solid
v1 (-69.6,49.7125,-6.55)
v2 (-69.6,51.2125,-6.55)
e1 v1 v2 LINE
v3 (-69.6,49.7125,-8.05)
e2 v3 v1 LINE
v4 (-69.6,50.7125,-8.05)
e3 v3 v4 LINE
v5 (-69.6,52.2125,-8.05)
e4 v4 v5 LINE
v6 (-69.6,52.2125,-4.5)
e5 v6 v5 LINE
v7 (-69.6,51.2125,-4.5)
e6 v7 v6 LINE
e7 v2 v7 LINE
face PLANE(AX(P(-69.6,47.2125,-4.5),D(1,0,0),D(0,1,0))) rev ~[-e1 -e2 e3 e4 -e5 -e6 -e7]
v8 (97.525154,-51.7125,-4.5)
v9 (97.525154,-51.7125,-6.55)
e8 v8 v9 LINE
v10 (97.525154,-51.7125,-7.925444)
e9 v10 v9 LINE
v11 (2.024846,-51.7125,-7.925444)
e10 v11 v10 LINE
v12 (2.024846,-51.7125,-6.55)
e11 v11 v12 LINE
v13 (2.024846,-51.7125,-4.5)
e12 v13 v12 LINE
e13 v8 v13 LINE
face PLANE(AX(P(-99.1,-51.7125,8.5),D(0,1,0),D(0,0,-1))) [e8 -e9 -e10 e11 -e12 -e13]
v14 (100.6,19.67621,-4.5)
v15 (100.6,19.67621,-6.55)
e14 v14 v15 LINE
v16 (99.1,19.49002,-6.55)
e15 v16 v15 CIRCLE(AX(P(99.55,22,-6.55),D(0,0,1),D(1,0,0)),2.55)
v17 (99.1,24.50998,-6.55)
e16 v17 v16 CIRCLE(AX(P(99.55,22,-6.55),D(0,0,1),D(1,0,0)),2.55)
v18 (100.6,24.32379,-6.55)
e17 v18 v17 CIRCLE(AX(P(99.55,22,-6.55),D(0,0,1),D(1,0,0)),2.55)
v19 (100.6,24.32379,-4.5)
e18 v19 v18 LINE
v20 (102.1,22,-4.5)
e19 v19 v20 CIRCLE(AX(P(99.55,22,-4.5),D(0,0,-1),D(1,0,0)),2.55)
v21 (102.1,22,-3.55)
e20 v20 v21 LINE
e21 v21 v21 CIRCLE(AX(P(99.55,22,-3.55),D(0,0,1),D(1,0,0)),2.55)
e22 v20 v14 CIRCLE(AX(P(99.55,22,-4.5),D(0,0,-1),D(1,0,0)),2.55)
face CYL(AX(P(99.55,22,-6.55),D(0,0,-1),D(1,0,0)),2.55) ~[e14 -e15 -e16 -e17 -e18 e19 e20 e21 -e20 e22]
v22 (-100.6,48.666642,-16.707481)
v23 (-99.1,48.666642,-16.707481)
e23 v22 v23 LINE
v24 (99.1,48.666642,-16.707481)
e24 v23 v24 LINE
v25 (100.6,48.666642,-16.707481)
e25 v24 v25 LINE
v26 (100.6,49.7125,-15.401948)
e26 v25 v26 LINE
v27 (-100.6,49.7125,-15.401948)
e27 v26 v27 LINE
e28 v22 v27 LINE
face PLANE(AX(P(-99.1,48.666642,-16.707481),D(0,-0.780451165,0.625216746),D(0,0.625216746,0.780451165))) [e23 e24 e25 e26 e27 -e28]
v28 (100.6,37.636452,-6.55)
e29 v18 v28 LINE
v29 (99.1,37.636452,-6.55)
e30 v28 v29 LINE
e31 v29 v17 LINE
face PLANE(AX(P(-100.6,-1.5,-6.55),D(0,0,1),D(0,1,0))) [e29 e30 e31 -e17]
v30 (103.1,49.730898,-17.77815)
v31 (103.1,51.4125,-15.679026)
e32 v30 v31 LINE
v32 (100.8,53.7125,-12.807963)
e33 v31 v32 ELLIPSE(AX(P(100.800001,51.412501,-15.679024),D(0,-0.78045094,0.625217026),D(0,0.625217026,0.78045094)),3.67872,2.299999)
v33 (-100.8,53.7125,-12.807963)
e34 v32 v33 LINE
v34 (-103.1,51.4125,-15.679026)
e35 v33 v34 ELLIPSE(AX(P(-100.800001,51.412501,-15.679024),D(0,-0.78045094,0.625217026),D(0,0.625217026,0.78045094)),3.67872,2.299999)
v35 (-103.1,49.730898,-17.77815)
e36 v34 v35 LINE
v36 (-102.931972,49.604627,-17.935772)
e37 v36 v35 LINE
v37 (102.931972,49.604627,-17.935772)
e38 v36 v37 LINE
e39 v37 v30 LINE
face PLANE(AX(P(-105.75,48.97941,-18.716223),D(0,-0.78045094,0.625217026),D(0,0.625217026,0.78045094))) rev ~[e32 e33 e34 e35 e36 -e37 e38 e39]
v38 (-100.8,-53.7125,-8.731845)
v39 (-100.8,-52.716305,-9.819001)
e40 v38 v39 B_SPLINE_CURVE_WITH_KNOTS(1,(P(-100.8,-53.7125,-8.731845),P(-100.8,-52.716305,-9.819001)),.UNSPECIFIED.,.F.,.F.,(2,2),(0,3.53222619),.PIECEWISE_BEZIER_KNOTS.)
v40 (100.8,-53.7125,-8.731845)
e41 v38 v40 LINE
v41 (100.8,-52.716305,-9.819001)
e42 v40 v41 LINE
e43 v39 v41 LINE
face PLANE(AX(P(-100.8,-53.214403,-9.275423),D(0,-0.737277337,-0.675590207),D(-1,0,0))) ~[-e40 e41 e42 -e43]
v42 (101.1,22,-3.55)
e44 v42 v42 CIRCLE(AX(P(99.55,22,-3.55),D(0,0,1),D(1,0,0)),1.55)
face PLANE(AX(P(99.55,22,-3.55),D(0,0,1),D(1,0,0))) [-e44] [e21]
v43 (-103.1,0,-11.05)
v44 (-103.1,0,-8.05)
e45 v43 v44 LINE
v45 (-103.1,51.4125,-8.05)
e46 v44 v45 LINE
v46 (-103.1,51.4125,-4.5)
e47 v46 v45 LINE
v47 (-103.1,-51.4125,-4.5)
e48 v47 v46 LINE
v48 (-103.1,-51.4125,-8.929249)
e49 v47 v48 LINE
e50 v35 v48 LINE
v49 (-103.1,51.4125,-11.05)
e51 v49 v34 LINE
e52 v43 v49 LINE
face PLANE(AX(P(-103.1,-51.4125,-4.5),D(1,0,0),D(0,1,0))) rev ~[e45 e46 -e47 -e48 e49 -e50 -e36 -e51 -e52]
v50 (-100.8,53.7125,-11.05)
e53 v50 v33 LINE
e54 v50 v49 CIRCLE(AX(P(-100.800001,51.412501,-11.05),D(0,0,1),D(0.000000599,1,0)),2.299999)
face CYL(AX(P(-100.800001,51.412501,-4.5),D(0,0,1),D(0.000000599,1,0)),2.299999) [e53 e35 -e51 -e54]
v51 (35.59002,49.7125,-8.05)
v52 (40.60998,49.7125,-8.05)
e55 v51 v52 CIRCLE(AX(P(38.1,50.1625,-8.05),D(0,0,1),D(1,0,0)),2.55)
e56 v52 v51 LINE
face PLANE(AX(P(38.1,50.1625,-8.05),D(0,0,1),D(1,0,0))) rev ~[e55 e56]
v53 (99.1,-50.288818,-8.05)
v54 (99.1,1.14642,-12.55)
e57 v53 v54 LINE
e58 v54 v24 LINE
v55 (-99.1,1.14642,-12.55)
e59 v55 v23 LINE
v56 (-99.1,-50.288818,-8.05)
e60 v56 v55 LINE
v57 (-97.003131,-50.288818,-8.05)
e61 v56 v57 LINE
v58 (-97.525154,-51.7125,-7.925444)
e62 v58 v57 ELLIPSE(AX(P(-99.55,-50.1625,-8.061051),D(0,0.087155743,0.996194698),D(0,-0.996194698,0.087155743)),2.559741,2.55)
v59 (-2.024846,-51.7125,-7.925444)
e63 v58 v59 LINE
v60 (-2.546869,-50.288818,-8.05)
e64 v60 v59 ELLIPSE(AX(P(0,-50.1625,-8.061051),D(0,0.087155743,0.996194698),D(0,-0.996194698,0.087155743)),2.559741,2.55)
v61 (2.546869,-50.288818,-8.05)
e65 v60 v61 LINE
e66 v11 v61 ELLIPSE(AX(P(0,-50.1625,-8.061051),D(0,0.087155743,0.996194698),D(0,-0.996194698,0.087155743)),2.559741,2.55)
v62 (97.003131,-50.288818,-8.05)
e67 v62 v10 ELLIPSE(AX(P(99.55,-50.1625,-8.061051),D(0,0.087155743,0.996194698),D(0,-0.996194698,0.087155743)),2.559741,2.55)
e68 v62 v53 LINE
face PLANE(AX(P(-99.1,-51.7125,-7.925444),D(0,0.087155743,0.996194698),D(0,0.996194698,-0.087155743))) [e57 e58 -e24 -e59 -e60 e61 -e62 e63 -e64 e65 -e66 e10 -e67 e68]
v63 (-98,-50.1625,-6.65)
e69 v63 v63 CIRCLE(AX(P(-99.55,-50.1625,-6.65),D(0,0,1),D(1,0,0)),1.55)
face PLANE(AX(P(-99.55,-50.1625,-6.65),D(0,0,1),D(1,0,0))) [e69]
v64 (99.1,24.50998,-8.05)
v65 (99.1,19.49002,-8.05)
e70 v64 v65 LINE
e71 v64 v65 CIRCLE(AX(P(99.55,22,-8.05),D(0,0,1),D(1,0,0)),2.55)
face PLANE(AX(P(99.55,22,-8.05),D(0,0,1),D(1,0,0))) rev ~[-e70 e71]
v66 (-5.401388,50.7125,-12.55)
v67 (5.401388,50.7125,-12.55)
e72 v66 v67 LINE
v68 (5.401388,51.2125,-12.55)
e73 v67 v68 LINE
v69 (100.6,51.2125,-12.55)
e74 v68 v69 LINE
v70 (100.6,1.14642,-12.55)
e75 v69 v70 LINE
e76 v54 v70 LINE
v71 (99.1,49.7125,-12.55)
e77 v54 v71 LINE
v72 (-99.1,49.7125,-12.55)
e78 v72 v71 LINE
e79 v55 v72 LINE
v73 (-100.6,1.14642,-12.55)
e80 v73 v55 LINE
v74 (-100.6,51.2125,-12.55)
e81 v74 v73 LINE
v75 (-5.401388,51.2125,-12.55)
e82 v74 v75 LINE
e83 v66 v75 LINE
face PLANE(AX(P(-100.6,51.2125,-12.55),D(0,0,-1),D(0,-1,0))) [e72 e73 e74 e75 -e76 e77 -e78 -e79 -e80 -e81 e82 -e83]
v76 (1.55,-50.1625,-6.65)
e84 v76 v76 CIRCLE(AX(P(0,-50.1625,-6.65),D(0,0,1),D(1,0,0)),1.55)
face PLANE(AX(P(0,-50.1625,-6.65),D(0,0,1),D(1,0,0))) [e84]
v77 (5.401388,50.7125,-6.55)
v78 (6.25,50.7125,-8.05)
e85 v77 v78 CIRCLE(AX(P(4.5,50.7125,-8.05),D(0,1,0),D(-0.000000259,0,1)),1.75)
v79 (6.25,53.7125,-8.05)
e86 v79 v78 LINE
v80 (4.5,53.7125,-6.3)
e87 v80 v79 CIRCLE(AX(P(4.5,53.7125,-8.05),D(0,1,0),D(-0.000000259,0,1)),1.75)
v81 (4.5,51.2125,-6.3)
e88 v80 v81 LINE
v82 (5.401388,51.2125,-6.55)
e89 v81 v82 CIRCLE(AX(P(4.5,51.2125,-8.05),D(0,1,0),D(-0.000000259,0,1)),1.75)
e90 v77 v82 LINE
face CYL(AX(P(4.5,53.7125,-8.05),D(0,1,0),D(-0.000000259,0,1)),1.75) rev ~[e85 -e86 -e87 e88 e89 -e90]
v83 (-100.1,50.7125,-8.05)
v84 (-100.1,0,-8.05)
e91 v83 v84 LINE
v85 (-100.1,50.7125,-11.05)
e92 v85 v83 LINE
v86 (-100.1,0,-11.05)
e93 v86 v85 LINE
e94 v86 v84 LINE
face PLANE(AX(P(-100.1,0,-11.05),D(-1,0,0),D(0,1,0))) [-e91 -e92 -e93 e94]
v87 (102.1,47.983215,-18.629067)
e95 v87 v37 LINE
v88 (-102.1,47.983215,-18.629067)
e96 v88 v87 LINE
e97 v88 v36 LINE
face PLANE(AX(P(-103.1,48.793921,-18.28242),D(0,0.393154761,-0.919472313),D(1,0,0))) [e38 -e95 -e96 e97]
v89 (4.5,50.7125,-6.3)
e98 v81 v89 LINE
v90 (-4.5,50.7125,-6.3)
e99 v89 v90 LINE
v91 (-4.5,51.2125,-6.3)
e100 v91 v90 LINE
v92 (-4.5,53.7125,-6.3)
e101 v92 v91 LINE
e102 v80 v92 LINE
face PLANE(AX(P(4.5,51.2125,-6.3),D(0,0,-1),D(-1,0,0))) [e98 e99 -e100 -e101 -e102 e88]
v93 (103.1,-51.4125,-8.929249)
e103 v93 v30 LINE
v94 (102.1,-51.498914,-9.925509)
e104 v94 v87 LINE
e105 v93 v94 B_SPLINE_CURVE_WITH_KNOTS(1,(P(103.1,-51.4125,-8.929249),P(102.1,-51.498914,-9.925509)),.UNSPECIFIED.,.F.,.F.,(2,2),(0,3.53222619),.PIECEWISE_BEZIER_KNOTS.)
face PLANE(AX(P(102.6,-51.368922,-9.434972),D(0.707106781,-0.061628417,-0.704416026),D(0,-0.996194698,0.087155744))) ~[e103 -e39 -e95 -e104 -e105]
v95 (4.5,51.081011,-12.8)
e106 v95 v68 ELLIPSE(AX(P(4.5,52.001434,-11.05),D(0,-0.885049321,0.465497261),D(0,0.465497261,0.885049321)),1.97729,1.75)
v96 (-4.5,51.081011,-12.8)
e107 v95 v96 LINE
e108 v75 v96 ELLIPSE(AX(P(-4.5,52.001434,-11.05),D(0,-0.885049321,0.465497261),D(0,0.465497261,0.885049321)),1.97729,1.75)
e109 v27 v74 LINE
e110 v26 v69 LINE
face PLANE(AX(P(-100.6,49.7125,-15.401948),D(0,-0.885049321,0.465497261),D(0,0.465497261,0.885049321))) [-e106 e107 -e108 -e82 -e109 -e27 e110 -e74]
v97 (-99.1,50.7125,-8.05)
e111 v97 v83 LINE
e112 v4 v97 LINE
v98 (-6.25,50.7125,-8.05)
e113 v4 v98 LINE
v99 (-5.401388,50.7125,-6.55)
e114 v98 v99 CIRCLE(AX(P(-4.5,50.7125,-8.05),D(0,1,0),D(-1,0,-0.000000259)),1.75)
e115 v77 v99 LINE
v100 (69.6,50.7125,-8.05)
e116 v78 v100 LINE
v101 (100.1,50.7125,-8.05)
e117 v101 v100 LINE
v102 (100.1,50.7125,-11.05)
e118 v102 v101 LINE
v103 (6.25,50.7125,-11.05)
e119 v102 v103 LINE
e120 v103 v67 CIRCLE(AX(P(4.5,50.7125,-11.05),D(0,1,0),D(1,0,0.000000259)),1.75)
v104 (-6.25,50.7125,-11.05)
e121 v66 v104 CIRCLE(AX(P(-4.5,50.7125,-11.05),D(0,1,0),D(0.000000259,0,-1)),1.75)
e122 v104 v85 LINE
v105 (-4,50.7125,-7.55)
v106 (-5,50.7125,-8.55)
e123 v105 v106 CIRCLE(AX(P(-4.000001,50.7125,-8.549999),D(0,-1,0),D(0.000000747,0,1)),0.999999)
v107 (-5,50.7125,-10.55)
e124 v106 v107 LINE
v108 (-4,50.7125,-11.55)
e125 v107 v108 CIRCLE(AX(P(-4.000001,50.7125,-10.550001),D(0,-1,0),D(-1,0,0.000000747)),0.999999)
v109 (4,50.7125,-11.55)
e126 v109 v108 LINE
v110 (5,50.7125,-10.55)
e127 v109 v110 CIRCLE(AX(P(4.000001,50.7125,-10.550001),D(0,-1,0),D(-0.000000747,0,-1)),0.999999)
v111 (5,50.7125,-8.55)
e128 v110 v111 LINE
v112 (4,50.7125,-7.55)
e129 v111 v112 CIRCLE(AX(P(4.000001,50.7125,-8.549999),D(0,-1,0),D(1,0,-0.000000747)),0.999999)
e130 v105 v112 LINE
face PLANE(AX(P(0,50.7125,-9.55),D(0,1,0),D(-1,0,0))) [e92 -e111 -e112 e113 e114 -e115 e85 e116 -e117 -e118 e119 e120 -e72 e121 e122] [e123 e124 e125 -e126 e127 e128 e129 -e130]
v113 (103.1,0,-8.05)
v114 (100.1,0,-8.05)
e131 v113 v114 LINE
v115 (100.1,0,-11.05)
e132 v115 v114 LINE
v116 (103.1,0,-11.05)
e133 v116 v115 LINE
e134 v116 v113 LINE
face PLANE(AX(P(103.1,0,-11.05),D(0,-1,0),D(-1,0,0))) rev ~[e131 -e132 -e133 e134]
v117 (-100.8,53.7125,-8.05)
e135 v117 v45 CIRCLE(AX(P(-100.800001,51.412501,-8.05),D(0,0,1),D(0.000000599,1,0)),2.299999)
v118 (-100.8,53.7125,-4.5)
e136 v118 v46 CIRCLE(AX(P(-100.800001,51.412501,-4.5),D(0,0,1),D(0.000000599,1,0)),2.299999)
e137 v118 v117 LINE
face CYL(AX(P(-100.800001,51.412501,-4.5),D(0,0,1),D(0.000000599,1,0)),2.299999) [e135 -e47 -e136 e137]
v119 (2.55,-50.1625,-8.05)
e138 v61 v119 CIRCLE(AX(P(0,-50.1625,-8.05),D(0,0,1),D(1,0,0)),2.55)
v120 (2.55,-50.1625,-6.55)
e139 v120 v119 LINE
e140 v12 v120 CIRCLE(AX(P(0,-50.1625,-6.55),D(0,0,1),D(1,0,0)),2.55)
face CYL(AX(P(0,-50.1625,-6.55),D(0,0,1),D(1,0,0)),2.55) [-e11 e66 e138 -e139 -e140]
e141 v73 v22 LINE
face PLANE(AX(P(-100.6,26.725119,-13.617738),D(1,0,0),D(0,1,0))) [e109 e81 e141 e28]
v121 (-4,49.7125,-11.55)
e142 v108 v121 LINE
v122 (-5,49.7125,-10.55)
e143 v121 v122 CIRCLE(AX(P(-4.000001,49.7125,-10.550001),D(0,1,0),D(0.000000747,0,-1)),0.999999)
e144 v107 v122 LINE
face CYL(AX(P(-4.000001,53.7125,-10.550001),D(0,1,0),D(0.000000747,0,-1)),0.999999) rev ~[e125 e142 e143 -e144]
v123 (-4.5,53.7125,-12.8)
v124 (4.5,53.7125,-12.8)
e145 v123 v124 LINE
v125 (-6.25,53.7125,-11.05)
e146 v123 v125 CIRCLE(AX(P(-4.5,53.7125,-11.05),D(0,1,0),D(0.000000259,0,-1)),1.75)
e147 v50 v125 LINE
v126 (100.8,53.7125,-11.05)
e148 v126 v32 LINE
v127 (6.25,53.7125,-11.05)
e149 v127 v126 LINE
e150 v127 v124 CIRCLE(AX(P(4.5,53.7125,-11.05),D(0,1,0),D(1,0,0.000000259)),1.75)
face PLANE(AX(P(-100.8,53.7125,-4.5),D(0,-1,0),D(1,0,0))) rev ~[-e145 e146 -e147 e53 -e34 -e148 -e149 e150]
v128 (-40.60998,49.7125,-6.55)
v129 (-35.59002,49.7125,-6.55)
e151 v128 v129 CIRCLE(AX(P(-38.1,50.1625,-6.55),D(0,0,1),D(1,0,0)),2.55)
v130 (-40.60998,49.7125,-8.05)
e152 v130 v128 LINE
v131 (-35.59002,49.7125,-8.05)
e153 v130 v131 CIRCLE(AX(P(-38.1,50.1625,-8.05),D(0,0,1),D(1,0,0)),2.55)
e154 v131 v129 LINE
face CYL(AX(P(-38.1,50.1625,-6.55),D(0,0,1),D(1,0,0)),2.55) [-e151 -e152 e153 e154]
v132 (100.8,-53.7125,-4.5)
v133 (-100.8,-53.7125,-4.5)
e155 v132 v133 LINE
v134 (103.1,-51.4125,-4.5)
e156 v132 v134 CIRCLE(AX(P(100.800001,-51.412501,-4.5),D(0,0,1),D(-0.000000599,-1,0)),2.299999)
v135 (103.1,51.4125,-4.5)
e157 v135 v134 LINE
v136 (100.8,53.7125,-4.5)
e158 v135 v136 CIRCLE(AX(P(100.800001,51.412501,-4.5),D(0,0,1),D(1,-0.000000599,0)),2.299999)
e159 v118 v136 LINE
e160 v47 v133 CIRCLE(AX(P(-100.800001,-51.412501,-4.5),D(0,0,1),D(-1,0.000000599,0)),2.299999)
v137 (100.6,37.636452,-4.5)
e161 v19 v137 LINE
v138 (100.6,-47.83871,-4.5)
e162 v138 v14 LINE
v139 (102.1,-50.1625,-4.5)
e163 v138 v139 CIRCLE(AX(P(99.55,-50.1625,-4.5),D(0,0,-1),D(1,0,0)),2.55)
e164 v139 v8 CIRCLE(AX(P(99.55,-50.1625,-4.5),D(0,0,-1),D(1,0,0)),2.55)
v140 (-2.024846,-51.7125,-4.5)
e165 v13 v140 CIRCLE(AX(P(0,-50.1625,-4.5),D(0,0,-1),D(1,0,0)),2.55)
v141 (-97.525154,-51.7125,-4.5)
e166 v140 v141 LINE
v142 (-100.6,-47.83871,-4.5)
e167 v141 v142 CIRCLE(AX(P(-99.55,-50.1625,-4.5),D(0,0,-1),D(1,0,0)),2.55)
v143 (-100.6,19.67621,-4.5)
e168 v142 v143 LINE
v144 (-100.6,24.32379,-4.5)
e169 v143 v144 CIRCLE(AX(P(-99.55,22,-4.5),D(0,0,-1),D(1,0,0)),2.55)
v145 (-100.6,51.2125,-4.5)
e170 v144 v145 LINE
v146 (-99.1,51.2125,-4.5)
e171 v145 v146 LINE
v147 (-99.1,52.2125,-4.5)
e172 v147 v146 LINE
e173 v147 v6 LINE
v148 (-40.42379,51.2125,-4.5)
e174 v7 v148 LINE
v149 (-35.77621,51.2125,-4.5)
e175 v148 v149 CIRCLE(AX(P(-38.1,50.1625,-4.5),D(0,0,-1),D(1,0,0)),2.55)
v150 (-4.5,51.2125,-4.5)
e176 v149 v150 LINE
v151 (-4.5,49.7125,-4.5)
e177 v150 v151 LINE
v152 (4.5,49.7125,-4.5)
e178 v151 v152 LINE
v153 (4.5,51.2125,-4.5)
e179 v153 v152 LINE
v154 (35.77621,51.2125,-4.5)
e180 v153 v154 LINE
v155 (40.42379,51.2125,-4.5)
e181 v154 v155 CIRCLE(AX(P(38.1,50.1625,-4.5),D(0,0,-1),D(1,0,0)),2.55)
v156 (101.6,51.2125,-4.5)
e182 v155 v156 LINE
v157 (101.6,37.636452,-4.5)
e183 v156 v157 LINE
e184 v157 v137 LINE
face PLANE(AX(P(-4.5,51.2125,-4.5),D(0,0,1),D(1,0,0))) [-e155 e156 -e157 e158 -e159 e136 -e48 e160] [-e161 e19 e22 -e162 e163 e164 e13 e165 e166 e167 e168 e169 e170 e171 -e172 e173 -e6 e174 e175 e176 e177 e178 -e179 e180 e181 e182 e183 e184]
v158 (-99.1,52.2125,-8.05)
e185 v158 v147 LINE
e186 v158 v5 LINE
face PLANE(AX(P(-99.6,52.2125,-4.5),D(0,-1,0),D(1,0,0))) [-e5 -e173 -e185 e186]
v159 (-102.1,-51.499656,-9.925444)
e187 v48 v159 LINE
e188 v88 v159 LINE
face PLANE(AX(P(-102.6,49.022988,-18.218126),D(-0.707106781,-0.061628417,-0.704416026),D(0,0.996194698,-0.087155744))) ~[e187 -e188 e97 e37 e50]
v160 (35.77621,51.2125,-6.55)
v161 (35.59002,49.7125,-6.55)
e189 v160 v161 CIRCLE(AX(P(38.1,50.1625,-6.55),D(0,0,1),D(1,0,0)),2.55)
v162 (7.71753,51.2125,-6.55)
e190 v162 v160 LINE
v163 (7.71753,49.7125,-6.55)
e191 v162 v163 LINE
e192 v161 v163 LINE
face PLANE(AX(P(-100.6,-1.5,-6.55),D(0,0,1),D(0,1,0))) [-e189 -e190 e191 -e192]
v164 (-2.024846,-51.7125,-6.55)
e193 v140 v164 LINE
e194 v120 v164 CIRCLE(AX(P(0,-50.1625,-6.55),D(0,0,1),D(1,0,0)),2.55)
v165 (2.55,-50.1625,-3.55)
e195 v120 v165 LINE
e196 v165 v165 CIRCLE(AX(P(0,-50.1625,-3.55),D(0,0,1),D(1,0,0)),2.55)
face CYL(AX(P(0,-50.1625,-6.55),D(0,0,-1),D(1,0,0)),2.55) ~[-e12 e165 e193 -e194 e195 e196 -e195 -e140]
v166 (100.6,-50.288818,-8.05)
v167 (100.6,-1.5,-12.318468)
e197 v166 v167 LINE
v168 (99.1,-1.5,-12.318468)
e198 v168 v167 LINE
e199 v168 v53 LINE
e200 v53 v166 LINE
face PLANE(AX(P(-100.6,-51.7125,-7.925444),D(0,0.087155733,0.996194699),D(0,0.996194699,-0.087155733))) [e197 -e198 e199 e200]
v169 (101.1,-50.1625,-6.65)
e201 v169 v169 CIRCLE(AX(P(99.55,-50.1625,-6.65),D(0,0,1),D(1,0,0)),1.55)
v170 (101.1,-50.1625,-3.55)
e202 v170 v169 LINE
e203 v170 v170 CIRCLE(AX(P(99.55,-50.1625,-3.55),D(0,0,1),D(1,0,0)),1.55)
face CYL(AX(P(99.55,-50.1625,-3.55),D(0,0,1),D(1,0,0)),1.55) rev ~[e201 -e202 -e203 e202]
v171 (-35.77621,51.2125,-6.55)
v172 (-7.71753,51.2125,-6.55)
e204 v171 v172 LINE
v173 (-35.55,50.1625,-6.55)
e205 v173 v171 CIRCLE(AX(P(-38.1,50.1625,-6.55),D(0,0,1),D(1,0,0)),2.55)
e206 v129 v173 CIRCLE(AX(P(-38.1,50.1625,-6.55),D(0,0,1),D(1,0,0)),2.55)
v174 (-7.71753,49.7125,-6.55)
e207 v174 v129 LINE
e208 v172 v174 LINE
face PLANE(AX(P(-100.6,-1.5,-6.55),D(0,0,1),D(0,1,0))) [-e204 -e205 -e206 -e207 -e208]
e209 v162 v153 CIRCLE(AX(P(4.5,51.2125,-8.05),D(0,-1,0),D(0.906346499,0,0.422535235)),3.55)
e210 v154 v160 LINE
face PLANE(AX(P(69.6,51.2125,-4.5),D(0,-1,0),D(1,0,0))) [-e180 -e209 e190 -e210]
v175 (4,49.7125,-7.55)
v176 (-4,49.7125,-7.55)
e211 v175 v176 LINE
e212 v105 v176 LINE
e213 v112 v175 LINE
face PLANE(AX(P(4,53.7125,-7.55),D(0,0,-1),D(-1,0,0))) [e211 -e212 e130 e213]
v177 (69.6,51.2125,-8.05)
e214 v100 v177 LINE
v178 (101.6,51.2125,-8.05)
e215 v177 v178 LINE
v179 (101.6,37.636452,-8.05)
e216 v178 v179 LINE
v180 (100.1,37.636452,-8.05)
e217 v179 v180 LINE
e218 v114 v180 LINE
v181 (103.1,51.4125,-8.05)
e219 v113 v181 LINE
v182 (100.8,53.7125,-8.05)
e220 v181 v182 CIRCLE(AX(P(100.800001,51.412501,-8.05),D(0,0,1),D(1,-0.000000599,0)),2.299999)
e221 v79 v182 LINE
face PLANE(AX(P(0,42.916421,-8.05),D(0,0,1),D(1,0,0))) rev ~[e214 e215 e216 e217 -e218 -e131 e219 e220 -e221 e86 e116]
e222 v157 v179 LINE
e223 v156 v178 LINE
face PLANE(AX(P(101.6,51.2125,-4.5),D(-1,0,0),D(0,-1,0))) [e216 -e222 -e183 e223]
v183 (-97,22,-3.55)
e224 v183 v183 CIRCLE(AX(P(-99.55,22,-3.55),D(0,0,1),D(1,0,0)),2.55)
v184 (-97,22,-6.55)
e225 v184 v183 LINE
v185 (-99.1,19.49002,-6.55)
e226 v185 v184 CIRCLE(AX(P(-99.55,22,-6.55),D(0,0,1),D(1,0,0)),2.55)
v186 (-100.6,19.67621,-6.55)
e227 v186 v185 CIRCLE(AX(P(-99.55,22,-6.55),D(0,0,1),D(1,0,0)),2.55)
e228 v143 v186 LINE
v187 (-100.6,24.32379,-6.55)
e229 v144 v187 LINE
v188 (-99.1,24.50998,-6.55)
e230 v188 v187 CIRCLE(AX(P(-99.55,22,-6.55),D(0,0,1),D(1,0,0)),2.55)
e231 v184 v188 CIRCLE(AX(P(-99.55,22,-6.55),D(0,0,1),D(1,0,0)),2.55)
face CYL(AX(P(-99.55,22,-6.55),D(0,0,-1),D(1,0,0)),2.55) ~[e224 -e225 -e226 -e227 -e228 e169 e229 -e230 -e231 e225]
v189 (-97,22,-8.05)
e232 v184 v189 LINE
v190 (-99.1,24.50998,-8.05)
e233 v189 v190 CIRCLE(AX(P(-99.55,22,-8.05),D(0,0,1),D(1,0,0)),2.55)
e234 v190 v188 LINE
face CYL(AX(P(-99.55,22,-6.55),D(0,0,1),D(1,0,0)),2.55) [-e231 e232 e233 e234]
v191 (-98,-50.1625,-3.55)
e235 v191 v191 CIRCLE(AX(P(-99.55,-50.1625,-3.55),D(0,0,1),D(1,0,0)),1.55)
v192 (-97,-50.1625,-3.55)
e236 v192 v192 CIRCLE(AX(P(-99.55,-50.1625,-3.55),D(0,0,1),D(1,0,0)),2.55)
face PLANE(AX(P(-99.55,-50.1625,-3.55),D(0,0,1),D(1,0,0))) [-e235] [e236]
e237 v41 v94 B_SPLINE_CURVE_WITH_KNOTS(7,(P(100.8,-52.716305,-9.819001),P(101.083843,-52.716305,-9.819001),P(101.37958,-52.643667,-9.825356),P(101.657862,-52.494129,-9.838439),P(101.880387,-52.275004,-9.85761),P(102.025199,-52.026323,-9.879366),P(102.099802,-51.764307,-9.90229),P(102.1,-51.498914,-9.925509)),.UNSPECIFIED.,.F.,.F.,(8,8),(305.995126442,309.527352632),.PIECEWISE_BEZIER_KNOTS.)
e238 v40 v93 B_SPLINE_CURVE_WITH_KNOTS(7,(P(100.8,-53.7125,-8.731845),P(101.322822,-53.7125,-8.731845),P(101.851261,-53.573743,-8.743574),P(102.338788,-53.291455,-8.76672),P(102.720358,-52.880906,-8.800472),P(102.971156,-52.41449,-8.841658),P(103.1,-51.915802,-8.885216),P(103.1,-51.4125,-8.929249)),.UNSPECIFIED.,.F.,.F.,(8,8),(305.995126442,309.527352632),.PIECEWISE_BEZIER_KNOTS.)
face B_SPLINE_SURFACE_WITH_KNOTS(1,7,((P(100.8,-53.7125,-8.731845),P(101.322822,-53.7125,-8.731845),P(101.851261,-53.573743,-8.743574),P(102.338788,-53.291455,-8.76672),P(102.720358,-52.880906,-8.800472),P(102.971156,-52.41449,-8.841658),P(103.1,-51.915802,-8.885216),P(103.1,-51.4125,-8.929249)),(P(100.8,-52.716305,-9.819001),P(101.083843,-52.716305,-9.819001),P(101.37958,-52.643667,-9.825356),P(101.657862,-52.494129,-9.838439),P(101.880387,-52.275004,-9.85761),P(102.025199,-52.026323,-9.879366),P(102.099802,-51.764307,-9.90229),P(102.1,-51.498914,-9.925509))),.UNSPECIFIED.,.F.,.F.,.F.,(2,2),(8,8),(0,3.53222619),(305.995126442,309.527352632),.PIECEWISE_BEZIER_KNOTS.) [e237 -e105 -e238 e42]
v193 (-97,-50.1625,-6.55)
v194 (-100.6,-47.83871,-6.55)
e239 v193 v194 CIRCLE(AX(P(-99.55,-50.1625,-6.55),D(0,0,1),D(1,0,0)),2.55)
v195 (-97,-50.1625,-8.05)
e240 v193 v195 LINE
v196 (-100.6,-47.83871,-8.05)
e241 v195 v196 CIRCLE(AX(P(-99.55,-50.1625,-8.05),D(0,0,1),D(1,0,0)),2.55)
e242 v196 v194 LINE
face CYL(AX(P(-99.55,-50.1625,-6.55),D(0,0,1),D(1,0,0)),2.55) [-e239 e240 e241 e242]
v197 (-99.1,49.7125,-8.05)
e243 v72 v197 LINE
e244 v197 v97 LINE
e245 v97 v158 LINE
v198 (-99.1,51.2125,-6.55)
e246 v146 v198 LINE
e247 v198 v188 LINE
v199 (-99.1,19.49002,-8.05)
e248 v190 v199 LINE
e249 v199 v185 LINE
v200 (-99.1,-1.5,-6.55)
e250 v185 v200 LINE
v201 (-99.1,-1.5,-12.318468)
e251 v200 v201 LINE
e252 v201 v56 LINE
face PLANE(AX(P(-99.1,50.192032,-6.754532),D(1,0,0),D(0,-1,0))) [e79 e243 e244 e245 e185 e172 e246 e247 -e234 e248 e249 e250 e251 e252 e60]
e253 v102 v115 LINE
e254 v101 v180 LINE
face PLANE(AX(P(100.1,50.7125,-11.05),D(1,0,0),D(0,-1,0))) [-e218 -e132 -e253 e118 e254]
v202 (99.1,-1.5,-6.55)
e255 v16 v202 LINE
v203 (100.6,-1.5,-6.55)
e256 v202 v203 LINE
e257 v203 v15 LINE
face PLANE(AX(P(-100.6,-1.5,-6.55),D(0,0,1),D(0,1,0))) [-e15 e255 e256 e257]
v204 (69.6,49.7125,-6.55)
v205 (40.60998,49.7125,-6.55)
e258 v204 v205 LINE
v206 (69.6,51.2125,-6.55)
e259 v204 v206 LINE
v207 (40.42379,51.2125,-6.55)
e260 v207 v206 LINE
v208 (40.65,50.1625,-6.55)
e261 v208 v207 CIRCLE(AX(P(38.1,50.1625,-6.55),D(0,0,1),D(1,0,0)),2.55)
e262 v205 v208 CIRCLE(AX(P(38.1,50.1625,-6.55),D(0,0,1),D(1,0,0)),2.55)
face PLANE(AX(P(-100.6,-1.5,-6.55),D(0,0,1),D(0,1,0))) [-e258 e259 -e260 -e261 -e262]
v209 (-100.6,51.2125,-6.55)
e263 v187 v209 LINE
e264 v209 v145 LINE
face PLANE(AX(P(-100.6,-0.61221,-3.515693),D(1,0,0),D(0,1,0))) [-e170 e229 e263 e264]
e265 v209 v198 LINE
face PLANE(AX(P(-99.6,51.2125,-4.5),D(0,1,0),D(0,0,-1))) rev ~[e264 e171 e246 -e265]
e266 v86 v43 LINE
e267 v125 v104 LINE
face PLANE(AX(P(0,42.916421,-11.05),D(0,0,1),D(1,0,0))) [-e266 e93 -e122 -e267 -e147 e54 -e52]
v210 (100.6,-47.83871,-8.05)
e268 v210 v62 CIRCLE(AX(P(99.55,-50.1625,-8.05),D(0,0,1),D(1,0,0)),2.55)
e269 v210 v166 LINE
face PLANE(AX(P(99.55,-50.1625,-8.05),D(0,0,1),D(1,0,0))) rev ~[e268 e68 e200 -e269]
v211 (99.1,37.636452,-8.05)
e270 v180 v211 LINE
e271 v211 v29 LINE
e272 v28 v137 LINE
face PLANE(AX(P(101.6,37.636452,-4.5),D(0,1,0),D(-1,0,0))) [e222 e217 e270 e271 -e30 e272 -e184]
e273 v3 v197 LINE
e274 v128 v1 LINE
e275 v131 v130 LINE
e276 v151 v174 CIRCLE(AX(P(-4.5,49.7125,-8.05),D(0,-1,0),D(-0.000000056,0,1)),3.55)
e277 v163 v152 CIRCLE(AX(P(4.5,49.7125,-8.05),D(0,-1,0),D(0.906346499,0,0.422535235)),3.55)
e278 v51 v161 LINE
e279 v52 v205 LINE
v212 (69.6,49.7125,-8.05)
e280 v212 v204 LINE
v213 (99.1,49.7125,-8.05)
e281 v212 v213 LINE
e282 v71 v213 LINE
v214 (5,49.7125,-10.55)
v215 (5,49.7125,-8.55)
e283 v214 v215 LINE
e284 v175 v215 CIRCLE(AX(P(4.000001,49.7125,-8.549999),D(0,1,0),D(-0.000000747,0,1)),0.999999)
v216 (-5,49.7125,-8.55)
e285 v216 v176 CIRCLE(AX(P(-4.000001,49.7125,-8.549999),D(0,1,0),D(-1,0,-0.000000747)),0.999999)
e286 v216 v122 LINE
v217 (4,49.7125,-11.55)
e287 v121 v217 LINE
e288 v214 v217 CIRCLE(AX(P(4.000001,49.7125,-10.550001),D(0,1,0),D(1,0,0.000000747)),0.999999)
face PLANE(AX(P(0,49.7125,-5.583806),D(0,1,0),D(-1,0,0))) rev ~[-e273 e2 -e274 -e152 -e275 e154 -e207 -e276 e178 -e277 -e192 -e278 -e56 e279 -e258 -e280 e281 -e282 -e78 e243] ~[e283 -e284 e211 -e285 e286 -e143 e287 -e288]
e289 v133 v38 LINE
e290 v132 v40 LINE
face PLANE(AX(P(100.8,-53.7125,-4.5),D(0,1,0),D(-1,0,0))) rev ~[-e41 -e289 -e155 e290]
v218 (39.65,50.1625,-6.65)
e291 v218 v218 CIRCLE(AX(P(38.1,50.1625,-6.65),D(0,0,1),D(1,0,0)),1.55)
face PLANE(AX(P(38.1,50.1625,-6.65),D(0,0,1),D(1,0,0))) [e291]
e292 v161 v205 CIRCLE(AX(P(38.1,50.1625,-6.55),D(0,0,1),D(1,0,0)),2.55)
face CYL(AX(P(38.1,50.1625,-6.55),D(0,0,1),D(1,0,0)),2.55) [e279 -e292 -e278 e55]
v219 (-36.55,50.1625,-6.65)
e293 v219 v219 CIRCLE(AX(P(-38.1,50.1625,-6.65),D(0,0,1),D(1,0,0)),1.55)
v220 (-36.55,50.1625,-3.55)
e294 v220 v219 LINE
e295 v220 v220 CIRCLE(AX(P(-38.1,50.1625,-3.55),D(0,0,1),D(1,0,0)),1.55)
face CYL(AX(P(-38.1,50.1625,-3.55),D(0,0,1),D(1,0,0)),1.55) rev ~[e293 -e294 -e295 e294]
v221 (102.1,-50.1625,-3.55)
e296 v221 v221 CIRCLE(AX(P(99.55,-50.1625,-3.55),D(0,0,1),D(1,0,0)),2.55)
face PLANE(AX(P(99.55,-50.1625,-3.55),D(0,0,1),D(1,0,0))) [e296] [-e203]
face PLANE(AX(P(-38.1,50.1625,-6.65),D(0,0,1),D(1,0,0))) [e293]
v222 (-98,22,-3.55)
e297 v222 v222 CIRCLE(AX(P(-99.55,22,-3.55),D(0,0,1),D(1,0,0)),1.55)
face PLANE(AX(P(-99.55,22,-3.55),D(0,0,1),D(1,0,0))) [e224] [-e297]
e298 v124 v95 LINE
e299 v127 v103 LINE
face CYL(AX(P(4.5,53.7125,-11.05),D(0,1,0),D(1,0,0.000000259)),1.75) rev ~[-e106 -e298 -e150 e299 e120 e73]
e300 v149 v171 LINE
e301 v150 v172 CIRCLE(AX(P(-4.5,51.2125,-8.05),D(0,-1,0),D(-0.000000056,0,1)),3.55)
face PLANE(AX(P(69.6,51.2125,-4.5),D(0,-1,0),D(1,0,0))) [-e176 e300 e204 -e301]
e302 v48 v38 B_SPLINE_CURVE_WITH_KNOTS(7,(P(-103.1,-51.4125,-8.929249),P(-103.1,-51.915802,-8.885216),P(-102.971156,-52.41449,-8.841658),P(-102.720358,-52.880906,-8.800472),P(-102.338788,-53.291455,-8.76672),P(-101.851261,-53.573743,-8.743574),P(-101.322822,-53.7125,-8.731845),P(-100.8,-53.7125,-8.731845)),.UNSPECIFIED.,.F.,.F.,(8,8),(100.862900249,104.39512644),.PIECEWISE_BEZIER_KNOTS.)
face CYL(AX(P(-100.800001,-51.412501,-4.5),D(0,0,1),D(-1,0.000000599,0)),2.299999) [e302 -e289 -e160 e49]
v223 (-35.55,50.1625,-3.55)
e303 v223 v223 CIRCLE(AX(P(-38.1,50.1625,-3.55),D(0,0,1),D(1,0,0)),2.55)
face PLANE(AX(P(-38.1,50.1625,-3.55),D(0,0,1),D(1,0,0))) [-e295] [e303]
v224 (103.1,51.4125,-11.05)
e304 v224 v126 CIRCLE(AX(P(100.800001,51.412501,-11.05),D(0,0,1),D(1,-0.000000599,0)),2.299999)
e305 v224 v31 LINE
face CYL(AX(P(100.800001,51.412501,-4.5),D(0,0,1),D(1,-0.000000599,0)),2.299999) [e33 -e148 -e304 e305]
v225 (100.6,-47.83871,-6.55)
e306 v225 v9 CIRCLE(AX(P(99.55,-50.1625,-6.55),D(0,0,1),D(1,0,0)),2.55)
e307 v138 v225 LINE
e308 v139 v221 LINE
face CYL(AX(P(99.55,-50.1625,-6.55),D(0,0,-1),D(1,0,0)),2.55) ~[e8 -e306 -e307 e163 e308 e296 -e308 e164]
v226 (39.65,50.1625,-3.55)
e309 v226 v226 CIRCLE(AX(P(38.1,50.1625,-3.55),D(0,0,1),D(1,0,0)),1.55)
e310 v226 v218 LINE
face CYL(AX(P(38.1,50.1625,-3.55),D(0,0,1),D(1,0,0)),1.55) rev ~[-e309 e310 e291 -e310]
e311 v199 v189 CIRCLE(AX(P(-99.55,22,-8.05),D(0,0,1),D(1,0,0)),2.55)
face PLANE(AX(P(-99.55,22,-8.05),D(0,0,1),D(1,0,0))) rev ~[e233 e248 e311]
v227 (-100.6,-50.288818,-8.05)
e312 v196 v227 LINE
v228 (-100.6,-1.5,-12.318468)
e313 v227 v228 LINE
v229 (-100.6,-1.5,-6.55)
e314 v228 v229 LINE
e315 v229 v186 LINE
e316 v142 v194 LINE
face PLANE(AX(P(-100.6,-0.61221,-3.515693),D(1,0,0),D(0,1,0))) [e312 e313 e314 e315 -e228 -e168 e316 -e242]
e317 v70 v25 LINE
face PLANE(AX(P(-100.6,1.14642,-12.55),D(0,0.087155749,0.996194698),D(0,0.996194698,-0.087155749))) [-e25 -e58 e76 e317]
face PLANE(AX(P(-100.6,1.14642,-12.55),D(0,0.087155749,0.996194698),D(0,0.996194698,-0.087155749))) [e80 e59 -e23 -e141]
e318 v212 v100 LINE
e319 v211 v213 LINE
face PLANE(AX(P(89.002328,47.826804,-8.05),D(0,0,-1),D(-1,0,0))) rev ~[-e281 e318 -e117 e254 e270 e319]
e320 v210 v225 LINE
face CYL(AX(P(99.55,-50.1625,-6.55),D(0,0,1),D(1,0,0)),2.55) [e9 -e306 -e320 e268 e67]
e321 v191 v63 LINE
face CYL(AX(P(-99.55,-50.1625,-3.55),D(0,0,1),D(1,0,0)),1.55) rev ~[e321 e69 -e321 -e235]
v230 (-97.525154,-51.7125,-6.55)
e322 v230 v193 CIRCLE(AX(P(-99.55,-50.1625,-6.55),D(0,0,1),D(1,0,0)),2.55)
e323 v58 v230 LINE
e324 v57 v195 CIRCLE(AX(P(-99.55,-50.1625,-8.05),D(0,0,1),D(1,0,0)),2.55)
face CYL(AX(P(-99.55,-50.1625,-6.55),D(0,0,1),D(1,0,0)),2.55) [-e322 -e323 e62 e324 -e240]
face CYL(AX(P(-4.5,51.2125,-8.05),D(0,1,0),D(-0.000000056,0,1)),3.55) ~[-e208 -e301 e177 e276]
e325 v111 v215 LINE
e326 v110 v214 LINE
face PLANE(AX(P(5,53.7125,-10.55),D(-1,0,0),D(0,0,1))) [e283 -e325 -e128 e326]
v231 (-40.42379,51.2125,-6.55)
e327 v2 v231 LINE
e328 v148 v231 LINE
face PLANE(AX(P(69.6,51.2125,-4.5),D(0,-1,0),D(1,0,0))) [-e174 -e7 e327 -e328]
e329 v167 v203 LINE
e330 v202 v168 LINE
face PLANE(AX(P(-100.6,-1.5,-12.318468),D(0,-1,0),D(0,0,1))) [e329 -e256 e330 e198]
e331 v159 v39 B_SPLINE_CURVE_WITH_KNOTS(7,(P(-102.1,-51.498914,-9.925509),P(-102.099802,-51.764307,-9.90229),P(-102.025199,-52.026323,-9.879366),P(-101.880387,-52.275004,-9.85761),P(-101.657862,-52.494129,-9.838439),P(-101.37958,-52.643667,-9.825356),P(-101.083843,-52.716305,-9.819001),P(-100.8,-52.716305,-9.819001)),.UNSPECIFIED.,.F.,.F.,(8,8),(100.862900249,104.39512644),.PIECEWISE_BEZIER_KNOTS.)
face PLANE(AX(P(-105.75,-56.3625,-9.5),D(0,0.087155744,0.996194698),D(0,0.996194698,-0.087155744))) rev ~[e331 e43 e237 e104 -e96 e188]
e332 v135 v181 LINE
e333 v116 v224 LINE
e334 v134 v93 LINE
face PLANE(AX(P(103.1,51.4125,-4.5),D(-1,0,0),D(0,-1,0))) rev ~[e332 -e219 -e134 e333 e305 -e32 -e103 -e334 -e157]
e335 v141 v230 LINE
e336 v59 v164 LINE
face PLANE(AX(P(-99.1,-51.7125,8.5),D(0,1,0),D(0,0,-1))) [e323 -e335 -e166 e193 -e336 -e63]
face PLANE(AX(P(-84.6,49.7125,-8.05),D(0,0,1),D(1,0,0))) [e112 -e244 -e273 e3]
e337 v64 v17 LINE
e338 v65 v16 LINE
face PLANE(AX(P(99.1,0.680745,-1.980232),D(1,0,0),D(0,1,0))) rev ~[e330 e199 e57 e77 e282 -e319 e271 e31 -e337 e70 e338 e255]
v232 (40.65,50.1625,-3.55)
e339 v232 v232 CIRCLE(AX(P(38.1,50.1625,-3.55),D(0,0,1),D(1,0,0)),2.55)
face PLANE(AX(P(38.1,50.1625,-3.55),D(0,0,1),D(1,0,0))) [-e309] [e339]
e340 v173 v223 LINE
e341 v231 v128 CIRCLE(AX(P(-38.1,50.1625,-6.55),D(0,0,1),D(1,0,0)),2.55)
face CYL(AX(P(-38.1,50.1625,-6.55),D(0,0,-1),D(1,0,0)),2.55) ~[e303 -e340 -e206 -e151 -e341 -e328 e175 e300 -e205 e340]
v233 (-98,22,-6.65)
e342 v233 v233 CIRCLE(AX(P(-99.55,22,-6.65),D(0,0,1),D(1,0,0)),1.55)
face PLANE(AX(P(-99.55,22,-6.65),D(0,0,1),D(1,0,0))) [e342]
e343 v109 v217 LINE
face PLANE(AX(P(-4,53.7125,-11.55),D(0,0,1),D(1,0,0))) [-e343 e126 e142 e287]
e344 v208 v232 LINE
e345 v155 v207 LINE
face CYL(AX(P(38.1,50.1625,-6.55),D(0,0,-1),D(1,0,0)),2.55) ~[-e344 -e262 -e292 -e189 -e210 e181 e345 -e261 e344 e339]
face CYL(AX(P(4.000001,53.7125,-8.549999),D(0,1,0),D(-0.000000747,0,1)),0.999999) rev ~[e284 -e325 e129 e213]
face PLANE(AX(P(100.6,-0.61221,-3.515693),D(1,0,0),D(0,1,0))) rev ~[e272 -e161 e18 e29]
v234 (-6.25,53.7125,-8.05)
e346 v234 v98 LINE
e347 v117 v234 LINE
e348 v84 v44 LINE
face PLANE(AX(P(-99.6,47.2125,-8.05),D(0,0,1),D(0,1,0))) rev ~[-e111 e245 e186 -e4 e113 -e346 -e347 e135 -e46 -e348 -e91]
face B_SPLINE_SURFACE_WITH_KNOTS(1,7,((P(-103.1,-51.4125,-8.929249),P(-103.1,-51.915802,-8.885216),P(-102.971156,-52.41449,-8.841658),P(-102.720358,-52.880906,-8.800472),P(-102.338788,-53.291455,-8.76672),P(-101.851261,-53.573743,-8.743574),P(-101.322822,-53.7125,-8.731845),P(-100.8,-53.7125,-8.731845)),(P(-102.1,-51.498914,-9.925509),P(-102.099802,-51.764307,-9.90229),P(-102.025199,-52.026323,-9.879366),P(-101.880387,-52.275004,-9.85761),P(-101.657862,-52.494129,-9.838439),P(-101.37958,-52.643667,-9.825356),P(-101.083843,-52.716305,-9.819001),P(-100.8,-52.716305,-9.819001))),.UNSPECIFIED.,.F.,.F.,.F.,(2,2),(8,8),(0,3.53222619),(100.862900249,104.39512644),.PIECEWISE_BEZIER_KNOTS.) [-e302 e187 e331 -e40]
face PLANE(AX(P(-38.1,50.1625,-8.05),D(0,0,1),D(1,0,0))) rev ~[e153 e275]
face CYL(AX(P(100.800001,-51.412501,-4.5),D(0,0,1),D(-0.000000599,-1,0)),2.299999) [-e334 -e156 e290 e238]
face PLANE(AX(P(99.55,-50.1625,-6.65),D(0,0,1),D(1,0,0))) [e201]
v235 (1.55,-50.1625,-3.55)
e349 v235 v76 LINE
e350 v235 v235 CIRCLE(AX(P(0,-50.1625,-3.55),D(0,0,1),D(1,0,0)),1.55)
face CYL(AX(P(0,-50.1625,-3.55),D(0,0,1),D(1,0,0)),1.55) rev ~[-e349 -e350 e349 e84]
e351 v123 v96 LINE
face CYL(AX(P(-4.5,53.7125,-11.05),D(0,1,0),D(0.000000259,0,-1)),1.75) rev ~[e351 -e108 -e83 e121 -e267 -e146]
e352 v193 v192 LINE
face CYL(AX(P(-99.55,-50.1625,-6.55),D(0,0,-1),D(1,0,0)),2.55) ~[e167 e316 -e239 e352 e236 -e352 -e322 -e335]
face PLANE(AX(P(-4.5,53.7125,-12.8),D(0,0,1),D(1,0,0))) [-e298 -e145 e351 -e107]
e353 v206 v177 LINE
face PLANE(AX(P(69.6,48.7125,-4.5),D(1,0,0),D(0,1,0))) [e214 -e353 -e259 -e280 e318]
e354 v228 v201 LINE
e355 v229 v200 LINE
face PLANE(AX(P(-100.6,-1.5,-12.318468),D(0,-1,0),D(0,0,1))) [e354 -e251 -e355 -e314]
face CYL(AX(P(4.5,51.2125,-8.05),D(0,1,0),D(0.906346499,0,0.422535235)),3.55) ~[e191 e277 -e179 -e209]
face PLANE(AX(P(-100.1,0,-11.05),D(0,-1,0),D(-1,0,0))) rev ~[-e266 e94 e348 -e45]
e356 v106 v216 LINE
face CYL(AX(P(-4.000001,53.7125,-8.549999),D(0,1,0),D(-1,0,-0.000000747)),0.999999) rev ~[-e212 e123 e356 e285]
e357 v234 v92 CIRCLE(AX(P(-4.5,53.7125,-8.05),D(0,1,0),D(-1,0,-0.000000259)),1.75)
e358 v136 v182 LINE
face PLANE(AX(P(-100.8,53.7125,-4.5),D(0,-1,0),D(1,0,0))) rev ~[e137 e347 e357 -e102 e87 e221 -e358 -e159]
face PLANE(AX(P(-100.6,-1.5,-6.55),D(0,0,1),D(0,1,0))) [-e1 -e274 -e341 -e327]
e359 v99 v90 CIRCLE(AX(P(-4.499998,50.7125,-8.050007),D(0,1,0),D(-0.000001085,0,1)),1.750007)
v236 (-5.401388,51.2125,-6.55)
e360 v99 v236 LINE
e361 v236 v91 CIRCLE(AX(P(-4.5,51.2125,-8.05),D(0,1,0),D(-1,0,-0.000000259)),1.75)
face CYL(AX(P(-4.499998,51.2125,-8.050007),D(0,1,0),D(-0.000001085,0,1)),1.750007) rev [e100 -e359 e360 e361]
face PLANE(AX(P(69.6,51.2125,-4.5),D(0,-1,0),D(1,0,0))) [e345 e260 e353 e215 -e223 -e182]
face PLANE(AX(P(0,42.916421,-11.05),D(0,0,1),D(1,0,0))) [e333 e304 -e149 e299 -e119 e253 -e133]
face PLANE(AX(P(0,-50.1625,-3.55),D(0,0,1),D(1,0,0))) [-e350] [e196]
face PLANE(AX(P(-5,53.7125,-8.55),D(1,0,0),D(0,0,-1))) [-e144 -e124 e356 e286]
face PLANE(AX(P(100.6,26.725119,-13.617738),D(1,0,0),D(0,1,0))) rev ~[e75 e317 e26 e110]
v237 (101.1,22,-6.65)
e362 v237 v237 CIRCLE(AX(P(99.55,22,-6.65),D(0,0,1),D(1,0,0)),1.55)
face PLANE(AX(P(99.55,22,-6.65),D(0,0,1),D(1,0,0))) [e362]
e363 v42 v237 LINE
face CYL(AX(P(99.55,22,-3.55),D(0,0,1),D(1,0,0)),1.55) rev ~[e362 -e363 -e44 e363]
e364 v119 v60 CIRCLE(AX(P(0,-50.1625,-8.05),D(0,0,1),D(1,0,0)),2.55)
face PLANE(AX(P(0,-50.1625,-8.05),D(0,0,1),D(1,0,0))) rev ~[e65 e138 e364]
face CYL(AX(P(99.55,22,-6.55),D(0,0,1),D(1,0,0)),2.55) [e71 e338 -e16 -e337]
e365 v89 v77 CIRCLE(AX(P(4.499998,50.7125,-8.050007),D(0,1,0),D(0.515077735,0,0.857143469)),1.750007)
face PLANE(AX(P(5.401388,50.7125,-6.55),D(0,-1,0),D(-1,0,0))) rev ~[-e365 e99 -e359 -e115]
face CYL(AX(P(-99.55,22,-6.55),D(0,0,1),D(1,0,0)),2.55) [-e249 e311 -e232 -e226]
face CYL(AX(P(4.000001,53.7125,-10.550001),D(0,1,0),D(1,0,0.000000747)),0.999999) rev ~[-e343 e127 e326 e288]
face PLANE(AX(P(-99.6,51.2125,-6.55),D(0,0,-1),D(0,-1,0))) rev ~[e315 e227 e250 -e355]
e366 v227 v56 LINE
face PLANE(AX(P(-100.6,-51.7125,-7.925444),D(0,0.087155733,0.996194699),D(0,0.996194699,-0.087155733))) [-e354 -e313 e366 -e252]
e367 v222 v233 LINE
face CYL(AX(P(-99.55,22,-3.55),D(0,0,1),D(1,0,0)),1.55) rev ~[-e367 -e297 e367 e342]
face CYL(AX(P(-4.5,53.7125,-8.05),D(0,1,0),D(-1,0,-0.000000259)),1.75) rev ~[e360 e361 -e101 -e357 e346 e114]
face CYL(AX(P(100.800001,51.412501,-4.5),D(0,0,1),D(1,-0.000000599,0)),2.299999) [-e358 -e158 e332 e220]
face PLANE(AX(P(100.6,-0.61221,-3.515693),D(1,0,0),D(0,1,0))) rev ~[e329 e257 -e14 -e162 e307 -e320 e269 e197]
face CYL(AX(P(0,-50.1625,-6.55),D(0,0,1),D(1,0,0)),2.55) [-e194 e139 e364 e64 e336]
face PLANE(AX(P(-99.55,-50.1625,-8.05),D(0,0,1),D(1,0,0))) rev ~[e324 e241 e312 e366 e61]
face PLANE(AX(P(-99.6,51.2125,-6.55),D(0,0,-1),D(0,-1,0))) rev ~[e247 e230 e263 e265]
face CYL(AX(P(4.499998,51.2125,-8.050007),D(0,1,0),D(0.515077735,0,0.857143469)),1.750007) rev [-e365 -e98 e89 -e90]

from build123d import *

# Parameters (mm, degrees)
PAD004_DEPTH     = 50
POCKET011_DEPTH  = 211.5
POCKET012_DEPTH  = 5
CHAMFER_SIZE     = 1
POCKET013_DEPTH  = 0.001
POCKET014_DEPTH  = 3
POCKET016_DEPTH  = 198.2
POCKET017_DEPTH  = 201.2
SKETCH025_W      = 30
SKETCH025_H      = 5
POCKET019_DEPTH  = 3.55
PAD006_DEPTH     = 0.5
SKETCH026_R      = 2.55
PAD007_DEPTH     = 3
PAD008_DEPTH     = 1.5
SKETCH029_R      = 1.55
POCKET020_DEPTH  = 3.1
POCKET024_DEPTH  = 3
PAD011_DEPTH     = 1.5
PAD011_FACE129_W = 1
PAD011_FACE129_H = 10.802776
PAD012_DEPTH     = 1


with BuildPart() as part:
    # Sketch015 (on DatumPlane) → Pad004 (new body)
    with BuildSketch(Plane.XY.offset(-4.5)):
        with BuildLine():
            ThreePointArc((-100.8, 53.7125), (-102.426346, 53.038846), (-103.1, 51.4125))
            Line((-103.1, -51.4125), (-103.1, 51.4125))
            ThreePointArc((-103.1, -51.4125), (-102.426346, -53.038846), (-100.8, -53.7125))
            Line((100.8, -53.7125), (-100.8, -53.7125))
            ThreePointArc((100.8, -53.7125), (102.426346, -53.038846), (103.1, -51.4125))
            Line((103.1, 51.4125), (103.1, -51.4125))
            ThreePointArc((103.1, 51.4125), (102.426346, 53.038846), (100.8, 53.7125))
            Line((-100.8, 53.7125), (100.8, 53.7125))
        make_face()
    extrude(amount=-PAD004_DEPTH)

    # Sketch016 (on DatumPlane) → Pocket011 (cut)
    with BuildSketch(Plane(origin=(-105.75, 0, -8.5), x_dir=(0, 1, 0), z_dir=(1, 0, 0))):
        Polygon((-56.3625, -1), (48.97941, -10.216223), (56.3625, -1), (56.3625, -121), (-56.3625, -121), align=None)
    extrude(amount=POCKET011_DEPTH, mode=Mode.SUBTRACT)

    # Sketch017 (on Face5 of Pocket011) → Pocket012 (cut)
    with BuildSketch(Plane(origin=(0, 53.7125, -4.5), x_dir=(-1, 0, 0), z_dir=(0, 1, 0))):
        with BuildLine():
            ThreePointArc((-4, -3.05), (-4.707107, -3.342893), (-5, -4.05))
            Line((-5, -6.05), (-5, -4.05))
            ThreePointArc((-5, -6.05), (-4.707107, -6.757107), (-4, -7.05))
            Line((4, -7.05), (-4, -7.05))
            ThreePointArc((4, -7.05), (4.707107, -6.757107), (5, -6.05))
            Line((5, -4.05), (5, -6.05))
            ThreePointArc((5, -4.05), (4.707107, -3.342893), (4, -3.05))
            Line((-4, -3.05), (4, -3.05))
        make_face()
    extrude(amount=-POCKET012_DEPTH, mode=Mode.SUBTRACT)

    # Chamfer
    chamfer_edges = [part.edges().sort_by_distance(p)[0] for p in [
        (-103.1, -1.216545, -14.324646),
        (0, 48.97941, -18.716223),
    ]]
    chamfer(chamfer_edges, length=CHAMFER_SIZE)

    # Sketch018 (on Face8 of Chamfer) → Pocket013 (cut)
    with BuildSketch(Plane(origin=(0, 53.7125, -4.5), x_dir=(-1, 0, 0), z_dir=(0, 1, 0))):
        with BuildLine():
            Line((5, -4.05), (97.5, -4.05))
            ThreePointArc((97.770583, -4.320583), (97.691331, -4.129252), (97.5, -4.05))
            Line((97.770583, -4.320583), (97.770583, -5.779417))
            ThreePointArc((97.5, -6.05), (97.691331, -5.970748), (97.770583, -5.779417))
            Line((97.5, -6.05), (5, -6.05))
            Line((5, -4.05), (5, -6.05))
        make_face()
        with BuildLine():
            ThreePointArc((-97.5, -4.05), (-97.853553, -4.196447), (-98, -4.55))
            Line((-98, -5.55), (-98, -4.55))
            ThreePointArc((-98, -5.55), (-97.853553, -5.903553), (-97.5, -6.05))
            Line((-5, -6.05), (-97.5, -6.05))
            Line((-5, -4.05), (-5, -6.05))
            Line((-97.5, -4.05), (-5, -4.05))
        make_face()
    extrude(amount=-POCKET013_DEPTH, mode=Mode.SUBTRACT)

    # Sketch019 (on DatumPlane) → Pocket014 (cut)
    with BuildSketch(Plane.XY.offset(-11.05)):
        with BuildLine():
            ThreePointArc((-100.8, 53.7125), (-102.426346, 53.038846), (-103.1, 51.4125))
            Line((-103.1, 0), (-103.1, 51.4125))
            Line((-100.1, 0), (-103.1, 0))
            Line((-100.1, 0), (-100.1, 50.7125))
            Line((100.1, 50.7125), (-100.1, 50.7125))
            Line((100.1, 50.7125), (100.1, 0))
            Line((103.1, 0), (100.1, 0))
            Line((103.1, 0), (103.1, 51.4125))
            ThreePointArc((103.1, 51.4125), (102.426346, 53.038846), (100.8, 53.7125))
            Line((-100.8, 53.7125), (100.8, 53.7125))
        make_face()
    extrude(amount=POCKET014_DEPTH, mode=Mode.SUBTRACT)

    # Sketch021 (on DatumPlane) → Pocket016 (cut)
    with BuildSketch(Plane.YZ.offset(-99.1)):
        Polygon((-51.7125, -7.925444), (48.666642, -16.707481), (49.7125, -15.401948), (49.7125, 8.5), (-51.7125, 8.5), align=None)
    extrude(amount=POCKET016_DEPTH, mode=Mode.SUBTRACT)

    # Sketch022 (on DatumPlane) → Pocket017 (cut)
    with BuildSketch(Plane.YZ.offset(-100.6)):
        Polygon((-51.7125, 1.5), (-51.7125, -7.925444), (-1.5, -12.318468), (-1.5, -6.55), (51.2125, -6.55), (51.2125, 1.5), align=None)
        Polygon((48.666642, -16.707481), (49.7125, -15.401948), (51.2125, -12.55), (1.14642, -12.55), align=None)
    extrude(amount=POCKET017_DEPTH, mode=Mode.SUBTRACT)

    # Sketch025 (on DatumPlane) → Pocket019 (cut)
    with BuildSketch(Plane.XY.offset(-4.5)):
        Polygon((69.6, 51.2125), (101.6, 51.2125), (101.6, 37.636452), (97.6, 37.636452), (97.6, 48.7125), (69.6, 48.7125), align=None)
        with Locations((-84.6, 49.7125)):
            Rectangle(SKETCH025_W, SKETCH025_H)
    extrude(amount=-POCKET019_DEPTH, mode=Mode.SUBTRACT)

    # Pocket019 Face29 → Pad006 (add)
    with BuildSketch(Plane(origin=(-99.6, 50.141819, -6.918979), x_dir=(0, -1, 0), z_dir=(1, 0, 0))):
        Polygon((-2.070681, -2.418979), (-1.070681, -2.418979), (-1.070681, -0.368979), (2.929319, -0.368979), (2.929319, 1.131021), (-0.570681, 1.131021), (-2.070681, 1.131021), align=None)
    extrude(amount=PAD006_DEPTH)

    # Sketch026 (on Face60 of Pad006) → Pad007 (join)
    with BuildSketch(Plane.XY.offset(-6.55)):
        with Locations((-99.55, 22)):
            Circle(SKETCH026_R)
        with Locations((-99.55, -50.1625)):
            Circle(SKETCH026_R)
        with Locations((0, -50.1625)):
            Circle(SKETCH026_R)
        with Locations((99.55, -50.1625)):
            Circle(SKETCH026_R)
        with Locations((99.55, 22)):
            Circle(SKETCH026_R)
        with Locations((38.1, 50.1625)):
            Circle(SKETCH026_R)
        with Locations((-38.1, 50.1625)):
            Circle(SKETCH026_R)
    extrude(amount=PAD007_DEPTH)

    # Sketch026 (on Face60 of Pad006) → Pad008 (join)
    with BuildSketch(Plane.XY.offset(-6.55)):
        with Locations((-99.55, 22)):
            Circle(SKETCH026_R)
        with Locations((-99.55, -50.1625)):
            Circle(SKETCH026_R)
        with Locations((0, -50.1625)):
            Circle(SKETCH026_R)
        with Locations((99.55, -50.1625)):
            Circle(SKETCH026_R)
        with Locations((99.55, 22)):
            Circle(SKETCH026_R)
        with Locations((38.1, 50.1625)):
            Circle(SKETCH026_R)
        with Locations((-38.1, 50.1625)):
            Circle(SKETCH026_R)
    extrude(amount=-PAD008_DEPTH)

    # Sketch029 (on Face97 of Pad008) → Pocket020 (cut)
    with BuildSketch(Plane.XY.offset(-3.55)):
        with Locations((99.55, 22)):
            Circle(SKETCH029_R)
        with Locations((99.55, -50.1625)):
            Circle(SKETCH029_R)
        with Locations((0, -50.1625)):
            Circle(SKETCH029_R)
        with Locations((38.1, 50.1625)):
            Circle(SKETCH029_R)
        with Locations((-38.1, 50.1625)):
            Circle(SKETCH029_R)
        with Locations((-99.55, 22)):
            Circle(SKETCH029_R)
        with Locations((-99.55, -50.1625)):
            Circle(SKETCH029_R)
    extrude(amount=-POCKET020_DEPTH, mode=Mode.SUBTRACT)

    # Sketch032 (on Face15 of Pocket020) → Pocket024 (cut)
    with BuildSketch(Plane(origin=(0, 53.7125, -4.5), x_dir=(-1, 0, 0), z_dir=(0, 1, 0))):
        with BuildLine():
            ThreePointArc((-4.5, -1.8), (-5.737437, -2.312563), (-6.25, -3.55))
            Line((-6.25, -6.55), (-6.25, -3.55))
            ThreePointArc((-6.25, -6.55), (-5.737437, -7.787437), (-4.5, -8.3))
            Line((4.5, -8.3), (-4.5, -8.3))
            ThreePointArc((4.5, -8.3), (5.737437, -7.787437), (6.25, -6.55))
            Line((6.25, -3.55), (6.25, -6.55))
            ThreePointArc((6.25, -3.55), (5.737437, -2.312563), (4.5, -1.8))
            Line((-4.5, -1.8), (4.5, -1.8))
        make_face()
    extrude(amount=-POCKET024_DEPTH, mode=Mode.SUBTRACT)

    # Sketch033 (on Face32 of Pocket024) → Pad011 (join)
    with BuildSketch(Plane(origin=(0, 51.2125, -4.5), x_dir=(1, 0, 0), z_dir=(0, -1, 0))):
        with BuildLine():
            ThreePointArc((-4.5, -1.8), (-4.967707, -1.863658), (-5.401388, -2.05))
            Line((-7.71753, -2.05), (-5.401388, -2.05))
            ThreePointArc((-4.5, 0), (-6.407551, -0.556048), (-7.71753, -2.05))
            Line((-4.5, 0), (4.5, 0))
            ThreePointArc((7.71753, -2.05), (6.407551, -0.556048), (4.5, 0))
            Line((5.401388, -2.05), (7.71753, -2.05))
            ThreePointArc((5.401388, -2.05), (4.967707, -1.863658), (4.5, -1.8))
            Line((4.5, -1.8), (-4.5, -1.8))
        make_face()
    extrude(amount=PAD011_DEPTH)

    # Pad011 Face129 → Pad012 (add)
    with BuildSketch(Plane(origin=(0, 50.2125, -6.55), x_dir=(0, 1, 0), z_dir=(0, 0, 1))):
        Rectangle(PAD011_FACE129_W, PAD011_FACE129_H)
    extrude(amount=PAD012_DEPTH)


solid = part.part
